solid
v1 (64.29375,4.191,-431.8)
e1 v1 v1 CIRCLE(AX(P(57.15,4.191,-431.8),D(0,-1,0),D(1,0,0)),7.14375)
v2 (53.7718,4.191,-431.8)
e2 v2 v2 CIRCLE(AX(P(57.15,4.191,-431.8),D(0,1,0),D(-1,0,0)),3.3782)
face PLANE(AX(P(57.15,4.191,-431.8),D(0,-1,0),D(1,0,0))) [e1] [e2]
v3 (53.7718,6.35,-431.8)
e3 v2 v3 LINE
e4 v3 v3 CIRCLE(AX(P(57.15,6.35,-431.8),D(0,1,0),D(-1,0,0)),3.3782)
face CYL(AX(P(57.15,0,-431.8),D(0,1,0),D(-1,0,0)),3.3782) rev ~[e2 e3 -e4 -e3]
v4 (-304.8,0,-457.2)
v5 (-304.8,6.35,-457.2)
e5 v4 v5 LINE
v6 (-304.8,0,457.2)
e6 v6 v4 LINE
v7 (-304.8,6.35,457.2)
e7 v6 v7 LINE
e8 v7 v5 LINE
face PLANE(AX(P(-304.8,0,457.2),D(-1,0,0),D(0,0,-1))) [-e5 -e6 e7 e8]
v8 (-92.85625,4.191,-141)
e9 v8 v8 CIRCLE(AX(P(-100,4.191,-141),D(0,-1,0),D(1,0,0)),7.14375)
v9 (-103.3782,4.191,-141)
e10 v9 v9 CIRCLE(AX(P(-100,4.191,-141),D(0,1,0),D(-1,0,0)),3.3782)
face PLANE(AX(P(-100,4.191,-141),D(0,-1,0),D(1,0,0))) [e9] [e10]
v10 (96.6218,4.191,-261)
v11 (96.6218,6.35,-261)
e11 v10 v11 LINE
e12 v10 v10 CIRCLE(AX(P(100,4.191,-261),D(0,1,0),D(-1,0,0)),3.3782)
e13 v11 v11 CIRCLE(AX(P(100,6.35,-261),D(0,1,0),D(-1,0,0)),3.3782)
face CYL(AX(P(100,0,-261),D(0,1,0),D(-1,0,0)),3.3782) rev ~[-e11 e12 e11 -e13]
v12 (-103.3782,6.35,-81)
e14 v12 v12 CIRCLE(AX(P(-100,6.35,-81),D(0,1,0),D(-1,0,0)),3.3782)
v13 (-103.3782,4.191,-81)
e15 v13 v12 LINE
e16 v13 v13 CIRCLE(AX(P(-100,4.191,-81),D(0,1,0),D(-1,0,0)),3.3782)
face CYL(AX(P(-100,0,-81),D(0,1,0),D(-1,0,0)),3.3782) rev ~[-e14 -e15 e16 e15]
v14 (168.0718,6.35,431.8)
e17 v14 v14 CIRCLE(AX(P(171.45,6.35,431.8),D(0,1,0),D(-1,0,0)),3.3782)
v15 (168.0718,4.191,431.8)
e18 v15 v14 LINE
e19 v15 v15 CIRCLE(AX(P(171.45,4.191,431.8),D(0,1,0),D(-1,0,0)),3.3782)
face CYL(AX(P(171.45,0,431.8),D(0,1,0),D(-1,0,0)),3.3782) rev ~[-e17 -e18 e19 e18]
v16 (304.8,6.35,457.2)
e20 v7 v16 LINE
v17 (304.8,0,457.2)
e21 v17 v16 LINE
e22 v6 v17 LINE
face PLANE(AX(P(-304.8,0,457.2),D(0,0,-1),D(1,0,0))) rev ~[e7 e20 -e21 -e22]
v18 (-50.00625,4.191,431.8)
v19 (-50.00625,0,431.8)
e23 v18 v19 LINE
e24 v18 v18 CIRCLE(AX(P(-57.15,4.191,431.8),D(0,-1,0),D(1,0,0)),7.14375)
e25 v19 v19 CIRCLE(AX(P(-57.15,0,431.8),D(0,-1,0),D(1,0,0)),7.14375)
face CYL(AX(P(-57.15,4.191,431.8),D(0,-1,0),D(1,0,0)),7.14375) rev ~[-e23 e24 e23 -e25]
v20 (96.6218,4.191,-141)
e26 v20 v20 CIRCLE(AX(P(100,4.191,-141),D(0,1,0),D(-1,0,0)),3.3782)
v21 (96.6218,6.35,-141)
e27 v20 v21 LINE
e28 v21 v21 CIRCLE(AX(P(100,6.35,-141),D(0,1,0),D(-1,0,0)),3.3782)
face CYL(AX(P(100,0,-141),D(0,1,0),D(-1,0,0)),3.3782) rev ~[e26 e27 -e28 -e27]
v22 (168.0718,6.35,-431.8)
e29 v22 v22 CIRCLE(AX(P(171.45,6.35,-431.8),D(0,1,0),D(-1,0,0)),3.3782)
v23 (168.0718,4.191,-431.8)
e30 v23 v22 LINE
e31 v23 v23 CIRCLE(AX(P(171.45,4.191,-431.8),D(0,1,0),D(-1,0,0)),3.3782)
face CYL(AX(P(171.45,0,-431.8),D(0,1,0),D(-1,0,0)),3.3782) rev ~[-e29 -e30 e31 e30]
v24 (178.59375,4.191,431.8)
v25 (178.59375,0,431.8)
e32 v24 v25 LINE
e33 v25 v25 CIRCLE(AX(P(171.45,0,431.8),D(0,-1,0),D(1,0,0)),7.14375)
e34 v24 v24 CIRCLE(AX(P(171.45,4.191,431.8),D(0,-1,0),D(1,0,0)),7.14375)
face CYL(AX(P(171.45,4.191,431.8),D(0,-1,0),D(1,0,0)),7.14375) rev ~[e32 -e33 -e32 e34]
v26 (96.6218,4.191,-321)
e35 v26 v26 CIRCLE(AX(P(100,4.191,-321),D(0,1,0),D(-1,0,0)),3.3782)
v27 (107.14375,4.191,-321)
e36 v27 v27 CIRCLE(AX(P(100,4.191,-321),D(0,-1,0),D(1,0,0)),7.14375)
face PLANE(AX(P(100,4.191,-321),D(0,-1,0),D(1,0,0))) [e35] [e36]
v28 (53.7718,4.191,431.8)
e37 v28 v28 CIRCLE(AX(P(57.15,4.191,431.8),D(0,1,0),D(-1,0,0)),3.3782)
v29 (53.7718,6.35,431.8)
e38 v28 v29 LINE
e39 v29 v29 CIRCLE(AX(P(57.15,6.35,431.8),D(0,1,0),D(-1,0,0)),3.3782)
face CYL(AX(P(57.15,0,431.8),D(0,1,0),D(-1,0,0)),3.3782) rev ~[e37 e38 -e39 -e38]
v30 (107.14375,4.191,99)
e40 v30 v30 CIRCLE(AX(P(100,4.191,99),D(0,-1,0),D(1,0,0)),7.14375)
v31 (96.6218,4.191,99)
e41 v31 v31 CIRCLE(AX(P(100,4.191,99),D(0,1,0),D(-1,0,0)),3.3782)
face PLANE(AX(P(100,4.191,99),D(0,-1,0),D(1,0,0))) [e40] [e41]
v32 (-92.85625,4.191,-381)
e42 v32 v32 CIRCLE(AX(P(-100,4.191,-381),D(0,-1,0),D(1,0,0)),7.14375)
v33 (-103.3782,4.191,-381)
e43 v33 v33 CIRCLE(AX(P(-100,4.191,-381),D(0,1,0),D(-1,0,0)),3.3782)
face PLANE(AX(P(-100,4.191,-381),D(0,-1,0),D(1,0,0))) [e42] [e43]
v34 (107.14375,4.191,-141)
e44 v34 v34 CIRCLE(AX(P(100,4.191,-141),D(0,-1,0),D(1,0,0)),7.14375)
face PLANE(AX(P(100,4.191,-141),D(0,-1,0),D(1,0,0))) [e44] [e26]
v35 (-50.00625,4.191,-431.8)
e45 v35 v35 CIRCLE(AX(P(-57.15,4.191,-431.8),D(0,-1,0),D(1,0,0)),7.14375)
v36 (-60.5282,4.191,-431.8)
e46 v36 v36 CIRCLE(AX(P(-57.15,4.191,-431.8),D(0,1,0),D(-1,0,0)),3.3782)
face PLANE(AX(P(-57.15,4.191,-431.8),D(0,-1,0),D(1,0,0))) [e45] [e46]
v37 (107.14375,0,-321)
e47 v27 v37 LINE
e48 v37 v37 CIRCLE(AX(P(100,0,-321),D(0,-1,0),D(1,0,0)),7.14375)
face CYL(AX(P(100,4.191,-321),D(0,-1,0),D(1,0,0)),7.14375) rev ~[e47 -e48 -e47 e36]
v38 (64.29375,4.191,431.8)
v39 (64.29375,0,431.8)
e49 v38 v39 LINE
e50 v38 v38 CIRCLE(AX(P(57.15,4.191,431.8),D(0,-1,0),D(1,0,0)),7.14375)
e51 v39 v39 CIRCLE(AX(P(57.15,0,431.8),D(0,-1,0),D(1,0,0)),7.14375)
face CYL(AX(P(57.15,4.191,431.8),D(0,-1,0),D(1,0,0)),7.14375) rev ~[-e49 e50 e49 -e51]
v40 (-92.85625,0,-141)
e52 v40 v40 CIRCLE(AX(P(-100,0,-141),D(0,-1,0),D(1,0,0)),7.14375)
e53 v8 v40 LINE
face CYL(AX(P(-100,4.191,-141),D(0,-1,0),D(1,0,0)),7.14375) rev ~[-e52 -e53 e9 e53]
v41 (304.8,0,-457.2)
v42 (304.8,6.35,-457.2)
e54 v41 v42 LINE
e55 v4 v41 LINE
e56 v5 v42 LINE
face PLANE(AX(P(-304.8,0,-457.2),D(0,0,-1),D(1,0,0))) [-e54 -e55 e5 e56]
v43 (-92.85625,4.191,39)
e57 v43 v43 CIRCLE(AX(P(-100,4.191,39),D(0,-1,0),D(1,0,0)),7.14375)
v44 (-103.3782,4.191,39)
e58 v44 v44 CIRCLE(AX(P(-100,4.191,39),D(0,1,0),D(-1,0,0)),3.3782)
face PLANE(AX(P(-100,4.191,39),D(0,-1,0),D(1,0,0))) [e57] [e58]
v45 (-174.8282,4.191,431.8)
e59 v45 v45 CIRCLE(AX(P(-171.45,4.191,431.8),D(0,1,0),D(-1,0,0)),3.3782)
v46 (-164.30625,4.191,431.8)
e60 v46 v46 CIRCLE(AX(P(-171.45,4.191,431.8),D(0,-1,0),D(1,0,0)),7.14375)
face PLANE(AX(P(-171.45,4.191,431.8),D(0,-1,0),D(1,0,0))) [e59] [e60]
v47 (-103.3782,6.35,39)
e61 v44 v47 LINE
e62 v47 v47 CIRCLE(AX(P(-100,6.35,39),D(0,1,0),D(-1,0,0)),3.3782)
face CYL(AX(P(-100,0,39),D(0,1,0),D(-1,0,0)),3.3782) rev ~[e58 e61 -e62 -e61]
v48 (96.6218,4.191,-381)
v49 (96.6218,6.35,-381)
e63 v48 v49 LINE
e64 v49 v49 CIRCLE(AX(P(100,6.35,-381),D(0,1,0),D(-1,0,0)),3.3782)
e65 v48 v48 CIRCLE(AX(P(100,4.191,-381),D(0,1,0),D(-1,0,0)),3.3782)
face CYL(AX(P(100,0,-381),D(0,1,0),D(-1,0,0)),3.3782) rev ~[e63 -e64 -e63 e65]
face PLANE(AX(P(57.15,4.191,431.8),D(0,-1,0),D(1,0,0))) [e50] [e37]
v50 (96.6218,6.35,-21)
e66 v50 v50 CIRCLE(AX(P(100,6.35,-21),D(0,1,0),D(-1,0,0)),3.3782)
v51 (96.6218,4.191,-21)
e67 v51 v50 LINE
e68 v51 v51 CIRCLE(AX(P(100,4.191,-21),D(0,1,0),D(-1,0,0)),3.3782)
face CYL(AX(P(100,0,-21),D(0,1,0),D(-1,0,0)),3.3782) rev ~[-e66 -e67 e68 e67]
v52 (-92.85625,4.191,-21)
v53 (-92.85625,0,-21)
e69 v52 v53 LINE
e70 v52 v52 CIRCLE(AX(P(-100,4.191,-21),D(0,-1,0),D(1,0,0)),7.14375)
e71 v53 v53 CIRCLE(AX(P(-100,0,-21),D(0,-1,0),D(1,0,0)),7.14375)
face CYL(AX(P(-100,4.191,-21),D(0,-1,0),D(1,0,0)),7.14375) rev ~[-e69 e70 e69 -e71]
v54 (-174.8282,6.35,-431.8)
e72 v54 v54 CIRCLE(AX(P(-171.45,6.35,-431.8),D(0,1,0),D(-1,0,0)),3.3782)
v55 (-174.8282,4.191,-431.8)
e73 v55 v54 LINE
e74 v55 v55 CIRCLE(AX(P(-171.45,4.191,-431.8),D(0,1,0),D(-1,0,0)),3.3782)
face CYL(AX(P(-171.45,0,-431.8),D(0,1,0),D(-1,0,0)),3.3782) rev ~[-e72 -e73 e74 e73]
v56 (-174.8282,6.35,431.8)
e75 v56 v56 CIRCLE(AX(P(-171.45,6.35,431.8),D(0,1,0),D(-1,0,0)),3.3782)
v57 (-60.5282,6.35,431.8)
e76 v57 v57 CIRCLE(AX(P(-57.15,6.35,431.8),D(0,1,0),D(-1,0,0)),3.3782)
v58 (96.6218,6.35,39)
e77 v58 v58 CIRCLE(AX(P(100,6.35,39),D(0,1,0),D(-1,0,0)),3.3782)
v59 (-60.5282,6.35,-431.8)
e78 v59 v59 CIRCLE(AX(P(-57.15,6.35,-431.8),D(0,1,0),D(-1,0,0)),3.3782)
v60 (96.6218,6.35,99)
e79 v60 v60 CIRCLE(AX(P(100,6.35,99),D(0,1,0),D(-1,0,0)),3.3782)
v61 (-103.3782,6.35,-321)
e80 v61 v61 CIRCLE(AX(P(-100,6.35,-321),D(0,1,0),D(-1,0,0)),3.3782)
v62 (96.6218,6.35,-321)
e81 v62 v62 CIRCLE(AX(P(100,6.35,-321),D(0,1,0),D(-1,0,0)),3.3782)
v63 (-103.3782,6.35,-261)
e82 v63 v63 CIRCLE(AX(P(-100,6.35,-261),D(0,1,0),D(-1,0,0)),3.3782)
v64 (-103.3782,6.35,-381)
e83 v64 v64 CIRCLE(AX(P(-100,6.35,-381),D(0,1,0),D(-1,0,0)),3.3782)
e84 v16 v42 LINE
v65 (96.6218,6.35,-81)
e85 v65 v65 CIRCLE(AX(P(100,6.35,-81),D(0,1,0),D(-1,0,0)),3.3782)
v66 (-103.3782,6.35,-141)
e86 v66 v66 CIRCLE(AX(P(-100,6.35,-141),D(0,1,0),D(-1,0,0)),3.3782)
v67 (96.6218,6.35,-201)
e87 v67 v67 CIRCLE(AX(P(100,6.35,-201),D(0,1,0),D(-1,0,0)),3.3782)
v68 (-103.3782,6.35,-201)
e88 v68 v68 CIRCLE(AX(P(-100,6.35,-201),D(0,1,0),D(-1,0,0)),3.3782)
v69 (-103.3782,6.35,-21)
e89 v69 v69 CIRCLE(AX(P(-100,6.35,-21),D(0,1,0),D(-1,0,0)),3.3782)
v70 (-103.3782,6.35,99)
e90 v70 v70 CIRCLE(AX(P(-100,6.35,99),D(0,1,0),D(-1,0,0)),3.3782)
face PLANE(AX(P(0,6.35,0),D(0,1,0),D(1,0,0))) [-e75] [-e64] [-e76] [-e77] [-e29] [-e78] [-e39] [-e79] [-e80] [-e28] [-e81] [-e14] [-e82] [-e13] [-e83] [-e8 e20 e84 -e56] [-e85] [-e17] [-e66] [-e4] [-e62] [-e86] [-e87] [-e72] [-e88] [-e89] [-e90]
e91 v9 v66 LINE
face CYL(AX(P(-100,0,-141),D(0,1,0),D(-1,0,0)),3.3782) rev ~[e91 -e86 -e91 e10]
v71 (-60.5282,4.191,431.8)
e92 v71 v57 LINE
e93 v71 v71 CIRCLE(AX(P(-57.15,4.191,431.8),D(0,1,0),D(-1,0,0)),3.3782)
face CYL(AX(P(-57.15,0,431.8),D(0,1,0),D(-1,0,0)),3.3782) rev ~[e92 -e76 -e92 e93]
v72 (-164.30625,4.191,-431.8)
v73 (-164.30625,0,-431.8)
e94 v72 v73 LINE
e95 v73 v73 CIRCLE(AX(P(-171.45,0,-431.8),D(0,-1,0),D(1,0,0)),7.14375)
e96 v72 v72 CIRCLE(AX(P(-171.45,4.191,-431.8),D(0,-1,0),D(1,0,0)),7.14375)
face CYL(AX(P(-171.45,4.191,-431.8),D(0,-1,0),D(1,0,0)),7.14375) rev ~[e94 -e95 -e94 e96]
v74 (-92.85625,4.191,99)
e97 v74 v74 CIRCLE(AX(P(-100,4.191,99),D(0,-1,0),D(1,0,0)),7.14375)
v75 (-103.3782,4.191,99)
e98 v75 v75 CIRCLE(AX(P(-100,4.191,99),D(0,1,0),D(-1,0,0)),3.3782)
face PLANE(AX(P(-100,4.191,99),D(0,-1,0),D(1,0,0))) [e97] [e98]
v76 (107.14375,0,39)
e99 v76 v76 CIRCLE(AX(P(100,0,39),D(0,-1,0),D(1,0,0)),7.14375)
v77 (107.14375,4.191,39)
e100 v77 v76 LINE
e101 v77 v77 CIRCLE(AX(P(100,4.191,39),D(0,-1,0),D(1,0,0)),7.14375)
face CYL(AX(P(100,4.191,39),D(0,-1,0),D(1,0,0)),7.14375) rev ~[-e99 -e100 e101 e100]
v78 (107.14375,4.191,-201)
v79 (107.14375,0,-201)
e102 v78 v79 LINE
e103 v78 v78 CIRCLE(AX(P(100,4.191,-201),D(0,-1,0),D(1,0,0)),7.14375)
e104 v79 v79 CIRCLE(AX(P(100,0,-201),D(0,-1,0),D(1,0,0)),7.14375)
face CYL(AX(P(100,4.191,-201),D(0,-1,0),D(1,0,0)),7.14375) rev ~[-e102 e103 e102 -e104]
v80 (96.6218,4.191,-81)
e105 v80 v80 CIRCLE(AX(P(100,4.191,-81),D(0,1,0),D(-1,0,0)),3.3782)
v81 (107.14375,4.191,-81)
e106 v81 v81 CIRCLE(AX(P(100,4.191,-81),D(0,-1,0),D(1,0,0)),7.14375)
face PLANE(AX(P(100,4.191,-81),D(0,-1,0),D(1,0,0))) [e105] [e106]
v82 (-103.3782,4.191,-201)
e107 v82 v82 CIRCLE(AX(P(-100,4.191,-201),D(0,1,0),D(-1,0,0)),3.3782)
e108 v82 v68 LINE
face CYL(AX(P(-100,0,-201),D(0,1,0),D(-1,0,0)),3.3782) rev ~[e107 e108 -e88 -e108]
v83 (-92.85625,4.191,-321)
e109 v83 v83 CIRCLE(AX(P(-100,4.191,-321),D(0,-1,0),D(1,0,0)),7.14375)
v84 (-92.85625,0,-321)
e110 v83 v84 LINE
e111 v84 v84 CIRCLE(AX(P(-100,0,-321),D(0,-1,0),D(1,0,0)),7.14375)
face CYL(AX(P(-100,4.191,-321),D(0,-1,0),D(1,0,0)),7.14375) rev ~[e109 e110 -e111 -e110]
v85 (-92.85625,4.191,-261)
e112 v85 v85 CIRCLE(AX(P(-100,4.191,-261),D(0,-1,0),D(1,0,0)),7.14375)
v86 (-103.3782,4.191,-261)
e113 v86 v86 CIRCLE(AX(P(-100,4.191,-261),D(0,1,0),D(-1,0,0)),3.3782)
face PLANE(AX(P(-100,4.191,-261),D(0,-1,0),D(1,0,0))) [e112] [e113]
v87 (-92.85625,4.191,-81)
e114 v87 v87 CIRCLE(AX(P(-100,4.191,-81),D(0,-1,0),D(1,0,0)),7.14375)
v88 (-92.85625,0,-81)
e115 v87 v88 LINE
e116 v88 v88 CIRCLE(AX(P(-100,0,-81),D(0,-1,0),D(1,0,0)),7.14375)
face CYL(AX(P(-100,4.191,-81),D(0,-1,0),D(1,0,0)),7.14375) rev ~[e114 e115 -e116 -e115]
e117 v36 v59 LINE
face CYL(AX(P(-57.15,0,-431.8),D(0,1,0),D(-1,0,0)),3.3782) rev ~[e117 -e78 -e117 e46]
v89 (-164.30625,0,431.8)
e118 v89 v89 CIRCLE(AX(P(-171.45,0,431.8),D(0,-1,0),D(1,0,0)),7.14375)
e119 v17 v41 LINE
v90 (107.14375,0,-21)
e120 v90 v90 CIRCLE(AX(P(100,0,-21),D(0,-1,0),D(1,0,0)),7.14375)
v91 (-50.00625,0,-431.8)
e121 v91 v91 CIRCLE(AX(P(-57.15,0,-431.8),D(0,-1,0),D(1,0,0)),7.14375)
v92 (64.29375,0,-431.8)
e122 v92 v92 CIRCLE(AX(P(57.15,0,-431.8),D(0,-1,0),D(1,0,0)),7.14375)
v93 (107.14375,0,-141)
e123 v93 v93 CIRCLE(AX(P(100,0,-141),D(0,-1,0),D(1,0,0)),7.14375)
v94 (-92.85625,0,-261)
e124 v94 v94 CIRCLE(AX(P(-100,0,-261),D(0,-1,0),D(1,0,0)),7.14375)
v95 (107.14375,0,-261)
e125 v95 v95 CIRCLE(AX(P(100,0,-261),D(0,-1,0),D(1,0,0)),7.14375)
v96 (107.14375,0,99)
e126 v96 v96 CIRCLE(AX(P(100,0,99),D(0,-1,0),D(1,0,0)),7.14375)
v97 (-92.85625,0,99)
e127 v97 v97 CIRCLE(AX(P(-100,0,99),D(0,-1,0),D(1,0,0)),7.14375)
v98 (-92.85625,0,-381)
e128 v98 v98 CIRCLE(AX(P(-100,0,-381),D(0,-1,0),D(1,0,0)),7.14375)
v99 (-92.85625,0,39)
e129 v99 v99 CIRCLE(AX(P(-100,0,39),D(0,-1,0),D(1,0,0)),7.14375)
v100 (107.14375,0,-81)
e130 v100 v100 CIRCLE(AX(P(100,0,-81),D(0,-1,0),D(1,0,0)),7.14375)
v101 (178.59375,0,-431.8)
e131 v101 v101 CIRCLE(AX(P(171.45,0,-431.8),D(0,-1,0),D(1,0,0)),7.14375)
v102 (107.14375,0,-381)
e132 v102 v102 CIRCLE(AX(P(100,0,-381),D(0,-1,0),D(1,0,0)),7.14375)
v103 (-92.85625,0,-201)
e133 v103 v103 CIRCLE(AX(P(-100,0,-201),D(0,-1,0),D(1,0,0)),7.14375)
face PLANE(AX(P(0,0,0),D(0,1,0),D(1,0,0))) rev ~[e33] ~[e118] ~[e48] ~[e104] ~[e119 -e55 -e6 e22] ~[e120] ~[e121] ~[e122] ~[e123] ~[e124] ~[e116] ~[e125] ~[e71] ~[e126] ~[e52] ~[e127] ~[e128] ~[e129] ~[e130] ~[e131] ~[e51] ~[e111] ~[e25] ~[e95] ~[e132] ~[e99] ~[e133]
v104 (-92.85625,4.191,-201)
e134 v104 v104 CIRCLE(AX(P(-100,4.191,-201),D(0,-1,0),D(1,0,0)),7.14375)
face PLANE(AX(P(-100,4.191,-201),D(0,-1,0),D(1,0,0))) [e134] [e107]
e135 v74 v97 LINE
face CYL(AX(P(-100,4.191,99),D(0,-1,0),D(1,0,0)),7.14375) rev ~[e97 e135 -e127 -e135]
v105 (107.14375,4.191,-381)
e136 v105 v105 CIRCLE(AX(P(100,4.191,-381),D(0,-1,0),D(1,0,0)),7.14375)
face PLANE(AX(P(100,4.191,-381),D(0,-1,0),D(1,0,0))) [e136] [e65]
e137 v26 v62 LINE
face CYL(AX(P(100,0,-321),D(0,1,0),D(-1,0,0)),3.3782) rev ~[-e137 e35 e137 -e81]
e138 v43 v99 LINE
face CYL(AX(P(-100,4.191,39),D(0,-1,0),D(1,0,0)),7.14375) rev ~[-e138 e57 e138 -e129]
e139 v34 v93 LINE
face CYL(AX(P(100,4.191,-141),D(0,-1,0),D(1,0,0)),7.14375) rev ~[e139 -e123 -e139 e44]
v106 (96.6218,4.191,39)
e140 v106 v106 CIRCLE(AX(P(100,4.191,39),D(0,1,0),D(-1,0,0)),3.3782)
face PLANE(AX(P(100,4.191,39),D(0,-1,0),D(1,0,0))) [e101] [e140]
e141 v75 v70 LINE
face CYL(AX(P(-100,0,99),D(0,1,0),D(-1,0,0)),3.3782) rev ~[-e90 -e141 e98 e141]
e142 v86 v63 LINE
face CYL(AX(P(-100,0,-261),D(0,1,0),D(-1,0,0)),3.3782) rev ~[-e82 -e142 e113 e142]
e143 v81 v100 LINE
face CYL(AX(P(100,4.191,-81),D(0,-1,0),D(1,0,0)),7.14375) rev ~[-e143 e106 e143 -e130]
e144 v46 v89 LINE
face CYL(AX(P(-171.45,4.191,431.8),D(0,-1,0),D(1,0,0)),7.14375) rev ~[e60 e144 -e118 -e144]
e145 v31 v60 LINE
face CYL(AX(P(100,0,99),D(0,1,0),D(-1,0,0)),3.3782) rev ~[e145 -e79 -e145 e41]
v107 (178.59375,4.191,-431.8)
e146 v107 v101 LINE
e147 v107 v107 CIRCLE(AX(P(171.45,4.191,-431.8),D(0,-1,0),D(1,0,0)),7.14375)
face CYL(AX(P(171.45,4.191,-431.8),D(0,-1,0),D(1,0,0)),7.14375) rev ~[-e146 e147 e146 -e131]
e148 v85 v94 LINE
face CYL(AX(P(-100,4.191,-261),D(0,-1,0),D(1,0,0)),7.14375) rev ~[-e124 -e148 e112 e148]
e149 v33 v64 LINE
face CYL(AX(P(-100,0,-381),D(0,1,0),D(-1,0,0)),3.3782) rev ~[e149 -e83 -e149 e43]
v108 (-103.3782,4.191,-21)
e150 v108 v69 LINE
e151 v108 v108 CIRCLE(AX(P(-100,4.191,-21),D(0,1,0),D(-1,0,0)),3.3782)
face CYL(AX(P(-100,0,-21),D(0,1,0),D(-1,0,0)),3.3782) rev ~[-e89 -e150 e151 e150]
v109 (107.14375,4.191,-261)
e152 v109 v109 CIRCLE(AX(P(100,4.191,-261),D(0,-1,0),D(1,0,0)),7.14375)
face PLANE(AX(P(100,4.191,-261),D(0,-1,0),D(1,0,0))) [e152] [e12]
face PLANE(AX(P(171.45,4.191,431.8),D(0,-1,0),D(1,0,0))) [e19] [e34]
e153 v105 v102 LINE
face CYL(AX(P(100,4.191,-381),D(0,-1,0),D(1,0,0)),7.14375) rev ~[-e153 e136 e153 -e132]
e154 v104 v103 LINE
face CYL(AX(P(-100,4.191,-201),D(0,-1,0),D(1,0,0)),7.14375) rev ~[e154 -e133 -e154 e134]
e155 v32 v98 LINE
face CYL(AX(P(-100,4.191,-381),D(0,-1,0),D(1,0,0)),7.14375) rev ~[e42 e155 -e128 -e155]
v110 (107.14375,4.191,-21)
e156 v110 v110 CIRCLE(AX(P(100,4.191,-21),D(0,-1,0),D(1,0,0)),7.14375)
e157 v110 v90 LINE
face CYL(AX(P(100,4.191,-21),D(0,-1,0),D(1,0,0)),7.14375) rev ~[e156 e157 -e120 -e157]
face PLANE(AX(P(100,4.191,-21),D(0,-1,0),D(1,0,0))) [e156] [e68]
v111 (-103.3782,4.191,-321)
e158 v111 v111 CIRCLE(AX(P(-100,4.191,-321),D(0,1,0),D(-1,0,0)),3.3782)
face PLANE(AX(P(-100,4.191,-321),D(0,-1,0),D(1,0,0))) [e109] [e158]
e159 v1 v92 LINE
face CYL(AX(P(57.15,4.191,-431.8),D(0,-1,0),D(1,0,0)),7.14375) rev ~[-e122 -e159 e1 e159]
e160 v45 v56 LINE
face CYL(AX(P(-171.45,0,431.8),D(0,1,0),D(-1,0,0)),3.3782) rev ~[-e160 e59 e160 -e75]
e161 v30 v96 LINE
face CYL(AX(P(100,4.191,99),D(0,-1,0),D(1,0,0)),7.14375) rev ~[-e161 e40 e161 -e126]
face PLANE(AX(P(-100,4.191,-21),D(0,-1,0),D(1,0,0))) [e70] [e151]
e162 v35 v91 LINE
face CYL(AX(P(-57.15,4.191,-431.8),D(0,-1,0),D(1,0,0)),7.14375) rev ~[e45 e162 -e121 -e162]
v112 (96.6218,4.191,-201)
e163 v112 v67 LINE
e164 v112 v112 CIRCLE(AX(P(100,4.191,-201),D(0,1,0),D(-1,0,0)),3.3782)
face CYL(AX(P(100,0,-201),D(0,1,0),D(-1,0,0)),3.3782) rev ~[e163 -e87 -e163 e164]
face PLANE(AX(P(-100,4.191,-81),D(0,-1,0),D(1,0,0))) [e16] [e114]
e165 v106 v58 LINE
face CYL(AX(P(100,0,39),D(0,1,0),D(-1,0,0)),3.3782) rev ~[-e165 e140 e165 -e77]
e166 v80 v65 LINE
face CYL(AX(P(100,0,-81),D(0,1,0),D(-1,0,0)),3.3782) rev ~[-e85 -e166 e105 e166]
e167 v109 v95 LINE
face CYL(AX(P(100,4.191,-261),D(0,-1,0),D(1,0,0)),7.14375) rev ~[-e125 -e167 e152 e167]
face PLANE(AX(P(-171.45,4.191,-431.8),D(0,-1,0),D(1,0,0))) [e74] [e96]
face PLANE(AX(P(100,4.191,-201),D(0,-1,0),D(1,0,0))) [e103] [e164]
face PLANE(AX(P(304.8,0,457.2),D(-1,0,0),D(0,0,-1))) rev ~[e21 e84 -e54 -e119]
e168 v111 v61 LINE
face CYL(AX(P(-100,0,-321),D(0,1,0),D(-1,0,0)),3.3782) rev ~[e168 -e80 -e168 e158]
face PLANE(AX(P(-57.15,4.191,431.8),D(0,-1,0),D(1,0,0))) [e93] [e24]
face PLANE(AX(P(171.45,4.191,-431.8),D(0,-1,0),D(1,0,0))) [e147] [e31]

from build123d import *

# Parameters (mm, degrees)
SKETCH1_W                                            = 609.6
SKETCH1_H                                            = 914.4
BOSS_EXTRUDE1_DEPTH                                  = 6.35
CBORE_FOR_1_4_BINDING_HEAD_MACHINE_SCREW_D           = 6.7564
CBORE_FOR_1_4_BINDING_HEAD_MACHINE_SCREW_CBORE_D     = 14.2875
CBORE_FOR_1_4_BINDING_HEAD_MACHINE_SCREW_CBORE_DEPTH = 4.191
LPATTERN1_COUNT                                      = 4
LPATTERN1_PITCH                                      = 114.3
CBORE_FOR_1_4_BINDING_HEAD_MACHINE_S_2_D             = 6.7564
CBORE_FOR_1_4_BINDING_HEAD_MACHINE_S_2_CBORE_D       = 14.2875
CBORE_FOR_1_4_BINDING_HEAD_MACHINE_S_2_CBORE_DEPTH   = 4.191
LPATTERN2_COUNT                                      = 4
LPATTERN2_PITCH                                      = 114.3
CBORE_FOR_1_4_BINDING_HEAD_MACHINE_S_3_D             = 6.7564
CBORE_FOR_1_4_BINDING_HEAD_MACHINE_S_3_CBORE_D       = 14.2875
CBORE_FOR_1_4_BINDING_HEAD_MACHINE_S_3_CBORE_DEPTH   = 4.191
LPATTERN3_COUNT                                      = 2
LPATTERN3_PITCH                                      = 200
LPATTERN3_COUNT_DIR2                                 = 9
LPATTERN3_PITCH_DIR2                                 = 60


with BuildPart() as part:
    # Sketch1 → Boss-Extrude1 (new body)
    with BuildSketch(Plane(origin=(0, 0, 0), x_dir=(1, 0, 0), z_dir=(0, 1, 0))):
        Rectangle(SKETCH1_W, SKETCH1_H)
    extrude(amount=BOSS_EXTRUDE1_DEPTH)

    # CBORE for 1_4 Binding Head Machine Screw (through all)
    with Locations(Plane.XZ):
        with Locations((-171.45, 431.8)):
            cbore_for_1_4_binding_head_machine_screw = CounterBoreHole(CBORE_FOR_1_4_BINDING_HEAD_MACHINE_SCREW_D / 2, CBORE_FOR_1_4_BINDING_HEAD_MACHINE_SCREW_CBORE_D / 2, CBORE_FOR_1_4_BINDING_HEAD_MACHINE_SCREW_CBORE_DEPTH)

    # LPattern1: CBORE for 1_4 Binding Head Machine Screw ×4
    with Locations(*[(i * LPATTERN1_PITCH, 0, 0) for i in range(1, LPATTERN1_COUNT)]):
        add(cbore_for_1_4_binding_head_machine_screw, mode=Mode.SUBTRACT)

    # CBORE for 1_4 Binding Head Machine S 2 (through all)
    with Locations(Plane.XZ):
        with Locations((171.45, -431.8)):
            cbore_for_1_4_binding_head_machine_s_2 = CounterBoreHole(CBORE_FOR_1_4_BINDING_HEAD_MACHINE_S_2_D / 2, CBORE_FOR_1_4_BINDING_HEAD_MACHINE_S_2_CBORE_D / 2, CBORE_FOR_1_4_BINDING_HEAD_MACHINE_S_2_CBORE_DEPTH)

    # LPattern2: CBORE for 1_4 Binding Head Machine S 2 ×4
    with Locations(*[(-i * LPATTERN2_PITCH, 0, 0) for i in range(1, LPATTERN2_COUNT)]):
        add(cbore_for_1_4_binding_head_machine_s_2, mode=Mode.SUBTRACT)

    # CBORE for 1_4 Binding Head Machine S 3 (through all)
    with Locations(Plane.XZ):
        with Locations((-100, -381)):
            cbore_for_1_4_binding_head_machine_s_3 = CounterBoreHole(CBORE_FOR_1_4_BINDING_HEAD_MACHINE_S_3_D / 2, CBORE_FOR_1_4_BINDING_HEAD_MACHINE_S_3_CBORE_D / 2, CBORE_FOR_1_4_BINDING_HEAD_MACHINE_S_3_CBORE_DEPTH)

    # LPattern3: CBORE for 1_4 Binding Head Machine S 3 2 × 9
    with Locations(*[(i * LPATTERN3_PITCH, 0, j * LPATTERN3_PITCH_DIR2) for i in range(LPATTERN3_COUNT) for j in range(LPATTERN3_COUNT_DIR2) if (i, j) != (0, 0)]):
        add(cbore_for_1_4_binding_head_machine_s_3, mode=Mode.SUBTRACT)


solid = part.part
